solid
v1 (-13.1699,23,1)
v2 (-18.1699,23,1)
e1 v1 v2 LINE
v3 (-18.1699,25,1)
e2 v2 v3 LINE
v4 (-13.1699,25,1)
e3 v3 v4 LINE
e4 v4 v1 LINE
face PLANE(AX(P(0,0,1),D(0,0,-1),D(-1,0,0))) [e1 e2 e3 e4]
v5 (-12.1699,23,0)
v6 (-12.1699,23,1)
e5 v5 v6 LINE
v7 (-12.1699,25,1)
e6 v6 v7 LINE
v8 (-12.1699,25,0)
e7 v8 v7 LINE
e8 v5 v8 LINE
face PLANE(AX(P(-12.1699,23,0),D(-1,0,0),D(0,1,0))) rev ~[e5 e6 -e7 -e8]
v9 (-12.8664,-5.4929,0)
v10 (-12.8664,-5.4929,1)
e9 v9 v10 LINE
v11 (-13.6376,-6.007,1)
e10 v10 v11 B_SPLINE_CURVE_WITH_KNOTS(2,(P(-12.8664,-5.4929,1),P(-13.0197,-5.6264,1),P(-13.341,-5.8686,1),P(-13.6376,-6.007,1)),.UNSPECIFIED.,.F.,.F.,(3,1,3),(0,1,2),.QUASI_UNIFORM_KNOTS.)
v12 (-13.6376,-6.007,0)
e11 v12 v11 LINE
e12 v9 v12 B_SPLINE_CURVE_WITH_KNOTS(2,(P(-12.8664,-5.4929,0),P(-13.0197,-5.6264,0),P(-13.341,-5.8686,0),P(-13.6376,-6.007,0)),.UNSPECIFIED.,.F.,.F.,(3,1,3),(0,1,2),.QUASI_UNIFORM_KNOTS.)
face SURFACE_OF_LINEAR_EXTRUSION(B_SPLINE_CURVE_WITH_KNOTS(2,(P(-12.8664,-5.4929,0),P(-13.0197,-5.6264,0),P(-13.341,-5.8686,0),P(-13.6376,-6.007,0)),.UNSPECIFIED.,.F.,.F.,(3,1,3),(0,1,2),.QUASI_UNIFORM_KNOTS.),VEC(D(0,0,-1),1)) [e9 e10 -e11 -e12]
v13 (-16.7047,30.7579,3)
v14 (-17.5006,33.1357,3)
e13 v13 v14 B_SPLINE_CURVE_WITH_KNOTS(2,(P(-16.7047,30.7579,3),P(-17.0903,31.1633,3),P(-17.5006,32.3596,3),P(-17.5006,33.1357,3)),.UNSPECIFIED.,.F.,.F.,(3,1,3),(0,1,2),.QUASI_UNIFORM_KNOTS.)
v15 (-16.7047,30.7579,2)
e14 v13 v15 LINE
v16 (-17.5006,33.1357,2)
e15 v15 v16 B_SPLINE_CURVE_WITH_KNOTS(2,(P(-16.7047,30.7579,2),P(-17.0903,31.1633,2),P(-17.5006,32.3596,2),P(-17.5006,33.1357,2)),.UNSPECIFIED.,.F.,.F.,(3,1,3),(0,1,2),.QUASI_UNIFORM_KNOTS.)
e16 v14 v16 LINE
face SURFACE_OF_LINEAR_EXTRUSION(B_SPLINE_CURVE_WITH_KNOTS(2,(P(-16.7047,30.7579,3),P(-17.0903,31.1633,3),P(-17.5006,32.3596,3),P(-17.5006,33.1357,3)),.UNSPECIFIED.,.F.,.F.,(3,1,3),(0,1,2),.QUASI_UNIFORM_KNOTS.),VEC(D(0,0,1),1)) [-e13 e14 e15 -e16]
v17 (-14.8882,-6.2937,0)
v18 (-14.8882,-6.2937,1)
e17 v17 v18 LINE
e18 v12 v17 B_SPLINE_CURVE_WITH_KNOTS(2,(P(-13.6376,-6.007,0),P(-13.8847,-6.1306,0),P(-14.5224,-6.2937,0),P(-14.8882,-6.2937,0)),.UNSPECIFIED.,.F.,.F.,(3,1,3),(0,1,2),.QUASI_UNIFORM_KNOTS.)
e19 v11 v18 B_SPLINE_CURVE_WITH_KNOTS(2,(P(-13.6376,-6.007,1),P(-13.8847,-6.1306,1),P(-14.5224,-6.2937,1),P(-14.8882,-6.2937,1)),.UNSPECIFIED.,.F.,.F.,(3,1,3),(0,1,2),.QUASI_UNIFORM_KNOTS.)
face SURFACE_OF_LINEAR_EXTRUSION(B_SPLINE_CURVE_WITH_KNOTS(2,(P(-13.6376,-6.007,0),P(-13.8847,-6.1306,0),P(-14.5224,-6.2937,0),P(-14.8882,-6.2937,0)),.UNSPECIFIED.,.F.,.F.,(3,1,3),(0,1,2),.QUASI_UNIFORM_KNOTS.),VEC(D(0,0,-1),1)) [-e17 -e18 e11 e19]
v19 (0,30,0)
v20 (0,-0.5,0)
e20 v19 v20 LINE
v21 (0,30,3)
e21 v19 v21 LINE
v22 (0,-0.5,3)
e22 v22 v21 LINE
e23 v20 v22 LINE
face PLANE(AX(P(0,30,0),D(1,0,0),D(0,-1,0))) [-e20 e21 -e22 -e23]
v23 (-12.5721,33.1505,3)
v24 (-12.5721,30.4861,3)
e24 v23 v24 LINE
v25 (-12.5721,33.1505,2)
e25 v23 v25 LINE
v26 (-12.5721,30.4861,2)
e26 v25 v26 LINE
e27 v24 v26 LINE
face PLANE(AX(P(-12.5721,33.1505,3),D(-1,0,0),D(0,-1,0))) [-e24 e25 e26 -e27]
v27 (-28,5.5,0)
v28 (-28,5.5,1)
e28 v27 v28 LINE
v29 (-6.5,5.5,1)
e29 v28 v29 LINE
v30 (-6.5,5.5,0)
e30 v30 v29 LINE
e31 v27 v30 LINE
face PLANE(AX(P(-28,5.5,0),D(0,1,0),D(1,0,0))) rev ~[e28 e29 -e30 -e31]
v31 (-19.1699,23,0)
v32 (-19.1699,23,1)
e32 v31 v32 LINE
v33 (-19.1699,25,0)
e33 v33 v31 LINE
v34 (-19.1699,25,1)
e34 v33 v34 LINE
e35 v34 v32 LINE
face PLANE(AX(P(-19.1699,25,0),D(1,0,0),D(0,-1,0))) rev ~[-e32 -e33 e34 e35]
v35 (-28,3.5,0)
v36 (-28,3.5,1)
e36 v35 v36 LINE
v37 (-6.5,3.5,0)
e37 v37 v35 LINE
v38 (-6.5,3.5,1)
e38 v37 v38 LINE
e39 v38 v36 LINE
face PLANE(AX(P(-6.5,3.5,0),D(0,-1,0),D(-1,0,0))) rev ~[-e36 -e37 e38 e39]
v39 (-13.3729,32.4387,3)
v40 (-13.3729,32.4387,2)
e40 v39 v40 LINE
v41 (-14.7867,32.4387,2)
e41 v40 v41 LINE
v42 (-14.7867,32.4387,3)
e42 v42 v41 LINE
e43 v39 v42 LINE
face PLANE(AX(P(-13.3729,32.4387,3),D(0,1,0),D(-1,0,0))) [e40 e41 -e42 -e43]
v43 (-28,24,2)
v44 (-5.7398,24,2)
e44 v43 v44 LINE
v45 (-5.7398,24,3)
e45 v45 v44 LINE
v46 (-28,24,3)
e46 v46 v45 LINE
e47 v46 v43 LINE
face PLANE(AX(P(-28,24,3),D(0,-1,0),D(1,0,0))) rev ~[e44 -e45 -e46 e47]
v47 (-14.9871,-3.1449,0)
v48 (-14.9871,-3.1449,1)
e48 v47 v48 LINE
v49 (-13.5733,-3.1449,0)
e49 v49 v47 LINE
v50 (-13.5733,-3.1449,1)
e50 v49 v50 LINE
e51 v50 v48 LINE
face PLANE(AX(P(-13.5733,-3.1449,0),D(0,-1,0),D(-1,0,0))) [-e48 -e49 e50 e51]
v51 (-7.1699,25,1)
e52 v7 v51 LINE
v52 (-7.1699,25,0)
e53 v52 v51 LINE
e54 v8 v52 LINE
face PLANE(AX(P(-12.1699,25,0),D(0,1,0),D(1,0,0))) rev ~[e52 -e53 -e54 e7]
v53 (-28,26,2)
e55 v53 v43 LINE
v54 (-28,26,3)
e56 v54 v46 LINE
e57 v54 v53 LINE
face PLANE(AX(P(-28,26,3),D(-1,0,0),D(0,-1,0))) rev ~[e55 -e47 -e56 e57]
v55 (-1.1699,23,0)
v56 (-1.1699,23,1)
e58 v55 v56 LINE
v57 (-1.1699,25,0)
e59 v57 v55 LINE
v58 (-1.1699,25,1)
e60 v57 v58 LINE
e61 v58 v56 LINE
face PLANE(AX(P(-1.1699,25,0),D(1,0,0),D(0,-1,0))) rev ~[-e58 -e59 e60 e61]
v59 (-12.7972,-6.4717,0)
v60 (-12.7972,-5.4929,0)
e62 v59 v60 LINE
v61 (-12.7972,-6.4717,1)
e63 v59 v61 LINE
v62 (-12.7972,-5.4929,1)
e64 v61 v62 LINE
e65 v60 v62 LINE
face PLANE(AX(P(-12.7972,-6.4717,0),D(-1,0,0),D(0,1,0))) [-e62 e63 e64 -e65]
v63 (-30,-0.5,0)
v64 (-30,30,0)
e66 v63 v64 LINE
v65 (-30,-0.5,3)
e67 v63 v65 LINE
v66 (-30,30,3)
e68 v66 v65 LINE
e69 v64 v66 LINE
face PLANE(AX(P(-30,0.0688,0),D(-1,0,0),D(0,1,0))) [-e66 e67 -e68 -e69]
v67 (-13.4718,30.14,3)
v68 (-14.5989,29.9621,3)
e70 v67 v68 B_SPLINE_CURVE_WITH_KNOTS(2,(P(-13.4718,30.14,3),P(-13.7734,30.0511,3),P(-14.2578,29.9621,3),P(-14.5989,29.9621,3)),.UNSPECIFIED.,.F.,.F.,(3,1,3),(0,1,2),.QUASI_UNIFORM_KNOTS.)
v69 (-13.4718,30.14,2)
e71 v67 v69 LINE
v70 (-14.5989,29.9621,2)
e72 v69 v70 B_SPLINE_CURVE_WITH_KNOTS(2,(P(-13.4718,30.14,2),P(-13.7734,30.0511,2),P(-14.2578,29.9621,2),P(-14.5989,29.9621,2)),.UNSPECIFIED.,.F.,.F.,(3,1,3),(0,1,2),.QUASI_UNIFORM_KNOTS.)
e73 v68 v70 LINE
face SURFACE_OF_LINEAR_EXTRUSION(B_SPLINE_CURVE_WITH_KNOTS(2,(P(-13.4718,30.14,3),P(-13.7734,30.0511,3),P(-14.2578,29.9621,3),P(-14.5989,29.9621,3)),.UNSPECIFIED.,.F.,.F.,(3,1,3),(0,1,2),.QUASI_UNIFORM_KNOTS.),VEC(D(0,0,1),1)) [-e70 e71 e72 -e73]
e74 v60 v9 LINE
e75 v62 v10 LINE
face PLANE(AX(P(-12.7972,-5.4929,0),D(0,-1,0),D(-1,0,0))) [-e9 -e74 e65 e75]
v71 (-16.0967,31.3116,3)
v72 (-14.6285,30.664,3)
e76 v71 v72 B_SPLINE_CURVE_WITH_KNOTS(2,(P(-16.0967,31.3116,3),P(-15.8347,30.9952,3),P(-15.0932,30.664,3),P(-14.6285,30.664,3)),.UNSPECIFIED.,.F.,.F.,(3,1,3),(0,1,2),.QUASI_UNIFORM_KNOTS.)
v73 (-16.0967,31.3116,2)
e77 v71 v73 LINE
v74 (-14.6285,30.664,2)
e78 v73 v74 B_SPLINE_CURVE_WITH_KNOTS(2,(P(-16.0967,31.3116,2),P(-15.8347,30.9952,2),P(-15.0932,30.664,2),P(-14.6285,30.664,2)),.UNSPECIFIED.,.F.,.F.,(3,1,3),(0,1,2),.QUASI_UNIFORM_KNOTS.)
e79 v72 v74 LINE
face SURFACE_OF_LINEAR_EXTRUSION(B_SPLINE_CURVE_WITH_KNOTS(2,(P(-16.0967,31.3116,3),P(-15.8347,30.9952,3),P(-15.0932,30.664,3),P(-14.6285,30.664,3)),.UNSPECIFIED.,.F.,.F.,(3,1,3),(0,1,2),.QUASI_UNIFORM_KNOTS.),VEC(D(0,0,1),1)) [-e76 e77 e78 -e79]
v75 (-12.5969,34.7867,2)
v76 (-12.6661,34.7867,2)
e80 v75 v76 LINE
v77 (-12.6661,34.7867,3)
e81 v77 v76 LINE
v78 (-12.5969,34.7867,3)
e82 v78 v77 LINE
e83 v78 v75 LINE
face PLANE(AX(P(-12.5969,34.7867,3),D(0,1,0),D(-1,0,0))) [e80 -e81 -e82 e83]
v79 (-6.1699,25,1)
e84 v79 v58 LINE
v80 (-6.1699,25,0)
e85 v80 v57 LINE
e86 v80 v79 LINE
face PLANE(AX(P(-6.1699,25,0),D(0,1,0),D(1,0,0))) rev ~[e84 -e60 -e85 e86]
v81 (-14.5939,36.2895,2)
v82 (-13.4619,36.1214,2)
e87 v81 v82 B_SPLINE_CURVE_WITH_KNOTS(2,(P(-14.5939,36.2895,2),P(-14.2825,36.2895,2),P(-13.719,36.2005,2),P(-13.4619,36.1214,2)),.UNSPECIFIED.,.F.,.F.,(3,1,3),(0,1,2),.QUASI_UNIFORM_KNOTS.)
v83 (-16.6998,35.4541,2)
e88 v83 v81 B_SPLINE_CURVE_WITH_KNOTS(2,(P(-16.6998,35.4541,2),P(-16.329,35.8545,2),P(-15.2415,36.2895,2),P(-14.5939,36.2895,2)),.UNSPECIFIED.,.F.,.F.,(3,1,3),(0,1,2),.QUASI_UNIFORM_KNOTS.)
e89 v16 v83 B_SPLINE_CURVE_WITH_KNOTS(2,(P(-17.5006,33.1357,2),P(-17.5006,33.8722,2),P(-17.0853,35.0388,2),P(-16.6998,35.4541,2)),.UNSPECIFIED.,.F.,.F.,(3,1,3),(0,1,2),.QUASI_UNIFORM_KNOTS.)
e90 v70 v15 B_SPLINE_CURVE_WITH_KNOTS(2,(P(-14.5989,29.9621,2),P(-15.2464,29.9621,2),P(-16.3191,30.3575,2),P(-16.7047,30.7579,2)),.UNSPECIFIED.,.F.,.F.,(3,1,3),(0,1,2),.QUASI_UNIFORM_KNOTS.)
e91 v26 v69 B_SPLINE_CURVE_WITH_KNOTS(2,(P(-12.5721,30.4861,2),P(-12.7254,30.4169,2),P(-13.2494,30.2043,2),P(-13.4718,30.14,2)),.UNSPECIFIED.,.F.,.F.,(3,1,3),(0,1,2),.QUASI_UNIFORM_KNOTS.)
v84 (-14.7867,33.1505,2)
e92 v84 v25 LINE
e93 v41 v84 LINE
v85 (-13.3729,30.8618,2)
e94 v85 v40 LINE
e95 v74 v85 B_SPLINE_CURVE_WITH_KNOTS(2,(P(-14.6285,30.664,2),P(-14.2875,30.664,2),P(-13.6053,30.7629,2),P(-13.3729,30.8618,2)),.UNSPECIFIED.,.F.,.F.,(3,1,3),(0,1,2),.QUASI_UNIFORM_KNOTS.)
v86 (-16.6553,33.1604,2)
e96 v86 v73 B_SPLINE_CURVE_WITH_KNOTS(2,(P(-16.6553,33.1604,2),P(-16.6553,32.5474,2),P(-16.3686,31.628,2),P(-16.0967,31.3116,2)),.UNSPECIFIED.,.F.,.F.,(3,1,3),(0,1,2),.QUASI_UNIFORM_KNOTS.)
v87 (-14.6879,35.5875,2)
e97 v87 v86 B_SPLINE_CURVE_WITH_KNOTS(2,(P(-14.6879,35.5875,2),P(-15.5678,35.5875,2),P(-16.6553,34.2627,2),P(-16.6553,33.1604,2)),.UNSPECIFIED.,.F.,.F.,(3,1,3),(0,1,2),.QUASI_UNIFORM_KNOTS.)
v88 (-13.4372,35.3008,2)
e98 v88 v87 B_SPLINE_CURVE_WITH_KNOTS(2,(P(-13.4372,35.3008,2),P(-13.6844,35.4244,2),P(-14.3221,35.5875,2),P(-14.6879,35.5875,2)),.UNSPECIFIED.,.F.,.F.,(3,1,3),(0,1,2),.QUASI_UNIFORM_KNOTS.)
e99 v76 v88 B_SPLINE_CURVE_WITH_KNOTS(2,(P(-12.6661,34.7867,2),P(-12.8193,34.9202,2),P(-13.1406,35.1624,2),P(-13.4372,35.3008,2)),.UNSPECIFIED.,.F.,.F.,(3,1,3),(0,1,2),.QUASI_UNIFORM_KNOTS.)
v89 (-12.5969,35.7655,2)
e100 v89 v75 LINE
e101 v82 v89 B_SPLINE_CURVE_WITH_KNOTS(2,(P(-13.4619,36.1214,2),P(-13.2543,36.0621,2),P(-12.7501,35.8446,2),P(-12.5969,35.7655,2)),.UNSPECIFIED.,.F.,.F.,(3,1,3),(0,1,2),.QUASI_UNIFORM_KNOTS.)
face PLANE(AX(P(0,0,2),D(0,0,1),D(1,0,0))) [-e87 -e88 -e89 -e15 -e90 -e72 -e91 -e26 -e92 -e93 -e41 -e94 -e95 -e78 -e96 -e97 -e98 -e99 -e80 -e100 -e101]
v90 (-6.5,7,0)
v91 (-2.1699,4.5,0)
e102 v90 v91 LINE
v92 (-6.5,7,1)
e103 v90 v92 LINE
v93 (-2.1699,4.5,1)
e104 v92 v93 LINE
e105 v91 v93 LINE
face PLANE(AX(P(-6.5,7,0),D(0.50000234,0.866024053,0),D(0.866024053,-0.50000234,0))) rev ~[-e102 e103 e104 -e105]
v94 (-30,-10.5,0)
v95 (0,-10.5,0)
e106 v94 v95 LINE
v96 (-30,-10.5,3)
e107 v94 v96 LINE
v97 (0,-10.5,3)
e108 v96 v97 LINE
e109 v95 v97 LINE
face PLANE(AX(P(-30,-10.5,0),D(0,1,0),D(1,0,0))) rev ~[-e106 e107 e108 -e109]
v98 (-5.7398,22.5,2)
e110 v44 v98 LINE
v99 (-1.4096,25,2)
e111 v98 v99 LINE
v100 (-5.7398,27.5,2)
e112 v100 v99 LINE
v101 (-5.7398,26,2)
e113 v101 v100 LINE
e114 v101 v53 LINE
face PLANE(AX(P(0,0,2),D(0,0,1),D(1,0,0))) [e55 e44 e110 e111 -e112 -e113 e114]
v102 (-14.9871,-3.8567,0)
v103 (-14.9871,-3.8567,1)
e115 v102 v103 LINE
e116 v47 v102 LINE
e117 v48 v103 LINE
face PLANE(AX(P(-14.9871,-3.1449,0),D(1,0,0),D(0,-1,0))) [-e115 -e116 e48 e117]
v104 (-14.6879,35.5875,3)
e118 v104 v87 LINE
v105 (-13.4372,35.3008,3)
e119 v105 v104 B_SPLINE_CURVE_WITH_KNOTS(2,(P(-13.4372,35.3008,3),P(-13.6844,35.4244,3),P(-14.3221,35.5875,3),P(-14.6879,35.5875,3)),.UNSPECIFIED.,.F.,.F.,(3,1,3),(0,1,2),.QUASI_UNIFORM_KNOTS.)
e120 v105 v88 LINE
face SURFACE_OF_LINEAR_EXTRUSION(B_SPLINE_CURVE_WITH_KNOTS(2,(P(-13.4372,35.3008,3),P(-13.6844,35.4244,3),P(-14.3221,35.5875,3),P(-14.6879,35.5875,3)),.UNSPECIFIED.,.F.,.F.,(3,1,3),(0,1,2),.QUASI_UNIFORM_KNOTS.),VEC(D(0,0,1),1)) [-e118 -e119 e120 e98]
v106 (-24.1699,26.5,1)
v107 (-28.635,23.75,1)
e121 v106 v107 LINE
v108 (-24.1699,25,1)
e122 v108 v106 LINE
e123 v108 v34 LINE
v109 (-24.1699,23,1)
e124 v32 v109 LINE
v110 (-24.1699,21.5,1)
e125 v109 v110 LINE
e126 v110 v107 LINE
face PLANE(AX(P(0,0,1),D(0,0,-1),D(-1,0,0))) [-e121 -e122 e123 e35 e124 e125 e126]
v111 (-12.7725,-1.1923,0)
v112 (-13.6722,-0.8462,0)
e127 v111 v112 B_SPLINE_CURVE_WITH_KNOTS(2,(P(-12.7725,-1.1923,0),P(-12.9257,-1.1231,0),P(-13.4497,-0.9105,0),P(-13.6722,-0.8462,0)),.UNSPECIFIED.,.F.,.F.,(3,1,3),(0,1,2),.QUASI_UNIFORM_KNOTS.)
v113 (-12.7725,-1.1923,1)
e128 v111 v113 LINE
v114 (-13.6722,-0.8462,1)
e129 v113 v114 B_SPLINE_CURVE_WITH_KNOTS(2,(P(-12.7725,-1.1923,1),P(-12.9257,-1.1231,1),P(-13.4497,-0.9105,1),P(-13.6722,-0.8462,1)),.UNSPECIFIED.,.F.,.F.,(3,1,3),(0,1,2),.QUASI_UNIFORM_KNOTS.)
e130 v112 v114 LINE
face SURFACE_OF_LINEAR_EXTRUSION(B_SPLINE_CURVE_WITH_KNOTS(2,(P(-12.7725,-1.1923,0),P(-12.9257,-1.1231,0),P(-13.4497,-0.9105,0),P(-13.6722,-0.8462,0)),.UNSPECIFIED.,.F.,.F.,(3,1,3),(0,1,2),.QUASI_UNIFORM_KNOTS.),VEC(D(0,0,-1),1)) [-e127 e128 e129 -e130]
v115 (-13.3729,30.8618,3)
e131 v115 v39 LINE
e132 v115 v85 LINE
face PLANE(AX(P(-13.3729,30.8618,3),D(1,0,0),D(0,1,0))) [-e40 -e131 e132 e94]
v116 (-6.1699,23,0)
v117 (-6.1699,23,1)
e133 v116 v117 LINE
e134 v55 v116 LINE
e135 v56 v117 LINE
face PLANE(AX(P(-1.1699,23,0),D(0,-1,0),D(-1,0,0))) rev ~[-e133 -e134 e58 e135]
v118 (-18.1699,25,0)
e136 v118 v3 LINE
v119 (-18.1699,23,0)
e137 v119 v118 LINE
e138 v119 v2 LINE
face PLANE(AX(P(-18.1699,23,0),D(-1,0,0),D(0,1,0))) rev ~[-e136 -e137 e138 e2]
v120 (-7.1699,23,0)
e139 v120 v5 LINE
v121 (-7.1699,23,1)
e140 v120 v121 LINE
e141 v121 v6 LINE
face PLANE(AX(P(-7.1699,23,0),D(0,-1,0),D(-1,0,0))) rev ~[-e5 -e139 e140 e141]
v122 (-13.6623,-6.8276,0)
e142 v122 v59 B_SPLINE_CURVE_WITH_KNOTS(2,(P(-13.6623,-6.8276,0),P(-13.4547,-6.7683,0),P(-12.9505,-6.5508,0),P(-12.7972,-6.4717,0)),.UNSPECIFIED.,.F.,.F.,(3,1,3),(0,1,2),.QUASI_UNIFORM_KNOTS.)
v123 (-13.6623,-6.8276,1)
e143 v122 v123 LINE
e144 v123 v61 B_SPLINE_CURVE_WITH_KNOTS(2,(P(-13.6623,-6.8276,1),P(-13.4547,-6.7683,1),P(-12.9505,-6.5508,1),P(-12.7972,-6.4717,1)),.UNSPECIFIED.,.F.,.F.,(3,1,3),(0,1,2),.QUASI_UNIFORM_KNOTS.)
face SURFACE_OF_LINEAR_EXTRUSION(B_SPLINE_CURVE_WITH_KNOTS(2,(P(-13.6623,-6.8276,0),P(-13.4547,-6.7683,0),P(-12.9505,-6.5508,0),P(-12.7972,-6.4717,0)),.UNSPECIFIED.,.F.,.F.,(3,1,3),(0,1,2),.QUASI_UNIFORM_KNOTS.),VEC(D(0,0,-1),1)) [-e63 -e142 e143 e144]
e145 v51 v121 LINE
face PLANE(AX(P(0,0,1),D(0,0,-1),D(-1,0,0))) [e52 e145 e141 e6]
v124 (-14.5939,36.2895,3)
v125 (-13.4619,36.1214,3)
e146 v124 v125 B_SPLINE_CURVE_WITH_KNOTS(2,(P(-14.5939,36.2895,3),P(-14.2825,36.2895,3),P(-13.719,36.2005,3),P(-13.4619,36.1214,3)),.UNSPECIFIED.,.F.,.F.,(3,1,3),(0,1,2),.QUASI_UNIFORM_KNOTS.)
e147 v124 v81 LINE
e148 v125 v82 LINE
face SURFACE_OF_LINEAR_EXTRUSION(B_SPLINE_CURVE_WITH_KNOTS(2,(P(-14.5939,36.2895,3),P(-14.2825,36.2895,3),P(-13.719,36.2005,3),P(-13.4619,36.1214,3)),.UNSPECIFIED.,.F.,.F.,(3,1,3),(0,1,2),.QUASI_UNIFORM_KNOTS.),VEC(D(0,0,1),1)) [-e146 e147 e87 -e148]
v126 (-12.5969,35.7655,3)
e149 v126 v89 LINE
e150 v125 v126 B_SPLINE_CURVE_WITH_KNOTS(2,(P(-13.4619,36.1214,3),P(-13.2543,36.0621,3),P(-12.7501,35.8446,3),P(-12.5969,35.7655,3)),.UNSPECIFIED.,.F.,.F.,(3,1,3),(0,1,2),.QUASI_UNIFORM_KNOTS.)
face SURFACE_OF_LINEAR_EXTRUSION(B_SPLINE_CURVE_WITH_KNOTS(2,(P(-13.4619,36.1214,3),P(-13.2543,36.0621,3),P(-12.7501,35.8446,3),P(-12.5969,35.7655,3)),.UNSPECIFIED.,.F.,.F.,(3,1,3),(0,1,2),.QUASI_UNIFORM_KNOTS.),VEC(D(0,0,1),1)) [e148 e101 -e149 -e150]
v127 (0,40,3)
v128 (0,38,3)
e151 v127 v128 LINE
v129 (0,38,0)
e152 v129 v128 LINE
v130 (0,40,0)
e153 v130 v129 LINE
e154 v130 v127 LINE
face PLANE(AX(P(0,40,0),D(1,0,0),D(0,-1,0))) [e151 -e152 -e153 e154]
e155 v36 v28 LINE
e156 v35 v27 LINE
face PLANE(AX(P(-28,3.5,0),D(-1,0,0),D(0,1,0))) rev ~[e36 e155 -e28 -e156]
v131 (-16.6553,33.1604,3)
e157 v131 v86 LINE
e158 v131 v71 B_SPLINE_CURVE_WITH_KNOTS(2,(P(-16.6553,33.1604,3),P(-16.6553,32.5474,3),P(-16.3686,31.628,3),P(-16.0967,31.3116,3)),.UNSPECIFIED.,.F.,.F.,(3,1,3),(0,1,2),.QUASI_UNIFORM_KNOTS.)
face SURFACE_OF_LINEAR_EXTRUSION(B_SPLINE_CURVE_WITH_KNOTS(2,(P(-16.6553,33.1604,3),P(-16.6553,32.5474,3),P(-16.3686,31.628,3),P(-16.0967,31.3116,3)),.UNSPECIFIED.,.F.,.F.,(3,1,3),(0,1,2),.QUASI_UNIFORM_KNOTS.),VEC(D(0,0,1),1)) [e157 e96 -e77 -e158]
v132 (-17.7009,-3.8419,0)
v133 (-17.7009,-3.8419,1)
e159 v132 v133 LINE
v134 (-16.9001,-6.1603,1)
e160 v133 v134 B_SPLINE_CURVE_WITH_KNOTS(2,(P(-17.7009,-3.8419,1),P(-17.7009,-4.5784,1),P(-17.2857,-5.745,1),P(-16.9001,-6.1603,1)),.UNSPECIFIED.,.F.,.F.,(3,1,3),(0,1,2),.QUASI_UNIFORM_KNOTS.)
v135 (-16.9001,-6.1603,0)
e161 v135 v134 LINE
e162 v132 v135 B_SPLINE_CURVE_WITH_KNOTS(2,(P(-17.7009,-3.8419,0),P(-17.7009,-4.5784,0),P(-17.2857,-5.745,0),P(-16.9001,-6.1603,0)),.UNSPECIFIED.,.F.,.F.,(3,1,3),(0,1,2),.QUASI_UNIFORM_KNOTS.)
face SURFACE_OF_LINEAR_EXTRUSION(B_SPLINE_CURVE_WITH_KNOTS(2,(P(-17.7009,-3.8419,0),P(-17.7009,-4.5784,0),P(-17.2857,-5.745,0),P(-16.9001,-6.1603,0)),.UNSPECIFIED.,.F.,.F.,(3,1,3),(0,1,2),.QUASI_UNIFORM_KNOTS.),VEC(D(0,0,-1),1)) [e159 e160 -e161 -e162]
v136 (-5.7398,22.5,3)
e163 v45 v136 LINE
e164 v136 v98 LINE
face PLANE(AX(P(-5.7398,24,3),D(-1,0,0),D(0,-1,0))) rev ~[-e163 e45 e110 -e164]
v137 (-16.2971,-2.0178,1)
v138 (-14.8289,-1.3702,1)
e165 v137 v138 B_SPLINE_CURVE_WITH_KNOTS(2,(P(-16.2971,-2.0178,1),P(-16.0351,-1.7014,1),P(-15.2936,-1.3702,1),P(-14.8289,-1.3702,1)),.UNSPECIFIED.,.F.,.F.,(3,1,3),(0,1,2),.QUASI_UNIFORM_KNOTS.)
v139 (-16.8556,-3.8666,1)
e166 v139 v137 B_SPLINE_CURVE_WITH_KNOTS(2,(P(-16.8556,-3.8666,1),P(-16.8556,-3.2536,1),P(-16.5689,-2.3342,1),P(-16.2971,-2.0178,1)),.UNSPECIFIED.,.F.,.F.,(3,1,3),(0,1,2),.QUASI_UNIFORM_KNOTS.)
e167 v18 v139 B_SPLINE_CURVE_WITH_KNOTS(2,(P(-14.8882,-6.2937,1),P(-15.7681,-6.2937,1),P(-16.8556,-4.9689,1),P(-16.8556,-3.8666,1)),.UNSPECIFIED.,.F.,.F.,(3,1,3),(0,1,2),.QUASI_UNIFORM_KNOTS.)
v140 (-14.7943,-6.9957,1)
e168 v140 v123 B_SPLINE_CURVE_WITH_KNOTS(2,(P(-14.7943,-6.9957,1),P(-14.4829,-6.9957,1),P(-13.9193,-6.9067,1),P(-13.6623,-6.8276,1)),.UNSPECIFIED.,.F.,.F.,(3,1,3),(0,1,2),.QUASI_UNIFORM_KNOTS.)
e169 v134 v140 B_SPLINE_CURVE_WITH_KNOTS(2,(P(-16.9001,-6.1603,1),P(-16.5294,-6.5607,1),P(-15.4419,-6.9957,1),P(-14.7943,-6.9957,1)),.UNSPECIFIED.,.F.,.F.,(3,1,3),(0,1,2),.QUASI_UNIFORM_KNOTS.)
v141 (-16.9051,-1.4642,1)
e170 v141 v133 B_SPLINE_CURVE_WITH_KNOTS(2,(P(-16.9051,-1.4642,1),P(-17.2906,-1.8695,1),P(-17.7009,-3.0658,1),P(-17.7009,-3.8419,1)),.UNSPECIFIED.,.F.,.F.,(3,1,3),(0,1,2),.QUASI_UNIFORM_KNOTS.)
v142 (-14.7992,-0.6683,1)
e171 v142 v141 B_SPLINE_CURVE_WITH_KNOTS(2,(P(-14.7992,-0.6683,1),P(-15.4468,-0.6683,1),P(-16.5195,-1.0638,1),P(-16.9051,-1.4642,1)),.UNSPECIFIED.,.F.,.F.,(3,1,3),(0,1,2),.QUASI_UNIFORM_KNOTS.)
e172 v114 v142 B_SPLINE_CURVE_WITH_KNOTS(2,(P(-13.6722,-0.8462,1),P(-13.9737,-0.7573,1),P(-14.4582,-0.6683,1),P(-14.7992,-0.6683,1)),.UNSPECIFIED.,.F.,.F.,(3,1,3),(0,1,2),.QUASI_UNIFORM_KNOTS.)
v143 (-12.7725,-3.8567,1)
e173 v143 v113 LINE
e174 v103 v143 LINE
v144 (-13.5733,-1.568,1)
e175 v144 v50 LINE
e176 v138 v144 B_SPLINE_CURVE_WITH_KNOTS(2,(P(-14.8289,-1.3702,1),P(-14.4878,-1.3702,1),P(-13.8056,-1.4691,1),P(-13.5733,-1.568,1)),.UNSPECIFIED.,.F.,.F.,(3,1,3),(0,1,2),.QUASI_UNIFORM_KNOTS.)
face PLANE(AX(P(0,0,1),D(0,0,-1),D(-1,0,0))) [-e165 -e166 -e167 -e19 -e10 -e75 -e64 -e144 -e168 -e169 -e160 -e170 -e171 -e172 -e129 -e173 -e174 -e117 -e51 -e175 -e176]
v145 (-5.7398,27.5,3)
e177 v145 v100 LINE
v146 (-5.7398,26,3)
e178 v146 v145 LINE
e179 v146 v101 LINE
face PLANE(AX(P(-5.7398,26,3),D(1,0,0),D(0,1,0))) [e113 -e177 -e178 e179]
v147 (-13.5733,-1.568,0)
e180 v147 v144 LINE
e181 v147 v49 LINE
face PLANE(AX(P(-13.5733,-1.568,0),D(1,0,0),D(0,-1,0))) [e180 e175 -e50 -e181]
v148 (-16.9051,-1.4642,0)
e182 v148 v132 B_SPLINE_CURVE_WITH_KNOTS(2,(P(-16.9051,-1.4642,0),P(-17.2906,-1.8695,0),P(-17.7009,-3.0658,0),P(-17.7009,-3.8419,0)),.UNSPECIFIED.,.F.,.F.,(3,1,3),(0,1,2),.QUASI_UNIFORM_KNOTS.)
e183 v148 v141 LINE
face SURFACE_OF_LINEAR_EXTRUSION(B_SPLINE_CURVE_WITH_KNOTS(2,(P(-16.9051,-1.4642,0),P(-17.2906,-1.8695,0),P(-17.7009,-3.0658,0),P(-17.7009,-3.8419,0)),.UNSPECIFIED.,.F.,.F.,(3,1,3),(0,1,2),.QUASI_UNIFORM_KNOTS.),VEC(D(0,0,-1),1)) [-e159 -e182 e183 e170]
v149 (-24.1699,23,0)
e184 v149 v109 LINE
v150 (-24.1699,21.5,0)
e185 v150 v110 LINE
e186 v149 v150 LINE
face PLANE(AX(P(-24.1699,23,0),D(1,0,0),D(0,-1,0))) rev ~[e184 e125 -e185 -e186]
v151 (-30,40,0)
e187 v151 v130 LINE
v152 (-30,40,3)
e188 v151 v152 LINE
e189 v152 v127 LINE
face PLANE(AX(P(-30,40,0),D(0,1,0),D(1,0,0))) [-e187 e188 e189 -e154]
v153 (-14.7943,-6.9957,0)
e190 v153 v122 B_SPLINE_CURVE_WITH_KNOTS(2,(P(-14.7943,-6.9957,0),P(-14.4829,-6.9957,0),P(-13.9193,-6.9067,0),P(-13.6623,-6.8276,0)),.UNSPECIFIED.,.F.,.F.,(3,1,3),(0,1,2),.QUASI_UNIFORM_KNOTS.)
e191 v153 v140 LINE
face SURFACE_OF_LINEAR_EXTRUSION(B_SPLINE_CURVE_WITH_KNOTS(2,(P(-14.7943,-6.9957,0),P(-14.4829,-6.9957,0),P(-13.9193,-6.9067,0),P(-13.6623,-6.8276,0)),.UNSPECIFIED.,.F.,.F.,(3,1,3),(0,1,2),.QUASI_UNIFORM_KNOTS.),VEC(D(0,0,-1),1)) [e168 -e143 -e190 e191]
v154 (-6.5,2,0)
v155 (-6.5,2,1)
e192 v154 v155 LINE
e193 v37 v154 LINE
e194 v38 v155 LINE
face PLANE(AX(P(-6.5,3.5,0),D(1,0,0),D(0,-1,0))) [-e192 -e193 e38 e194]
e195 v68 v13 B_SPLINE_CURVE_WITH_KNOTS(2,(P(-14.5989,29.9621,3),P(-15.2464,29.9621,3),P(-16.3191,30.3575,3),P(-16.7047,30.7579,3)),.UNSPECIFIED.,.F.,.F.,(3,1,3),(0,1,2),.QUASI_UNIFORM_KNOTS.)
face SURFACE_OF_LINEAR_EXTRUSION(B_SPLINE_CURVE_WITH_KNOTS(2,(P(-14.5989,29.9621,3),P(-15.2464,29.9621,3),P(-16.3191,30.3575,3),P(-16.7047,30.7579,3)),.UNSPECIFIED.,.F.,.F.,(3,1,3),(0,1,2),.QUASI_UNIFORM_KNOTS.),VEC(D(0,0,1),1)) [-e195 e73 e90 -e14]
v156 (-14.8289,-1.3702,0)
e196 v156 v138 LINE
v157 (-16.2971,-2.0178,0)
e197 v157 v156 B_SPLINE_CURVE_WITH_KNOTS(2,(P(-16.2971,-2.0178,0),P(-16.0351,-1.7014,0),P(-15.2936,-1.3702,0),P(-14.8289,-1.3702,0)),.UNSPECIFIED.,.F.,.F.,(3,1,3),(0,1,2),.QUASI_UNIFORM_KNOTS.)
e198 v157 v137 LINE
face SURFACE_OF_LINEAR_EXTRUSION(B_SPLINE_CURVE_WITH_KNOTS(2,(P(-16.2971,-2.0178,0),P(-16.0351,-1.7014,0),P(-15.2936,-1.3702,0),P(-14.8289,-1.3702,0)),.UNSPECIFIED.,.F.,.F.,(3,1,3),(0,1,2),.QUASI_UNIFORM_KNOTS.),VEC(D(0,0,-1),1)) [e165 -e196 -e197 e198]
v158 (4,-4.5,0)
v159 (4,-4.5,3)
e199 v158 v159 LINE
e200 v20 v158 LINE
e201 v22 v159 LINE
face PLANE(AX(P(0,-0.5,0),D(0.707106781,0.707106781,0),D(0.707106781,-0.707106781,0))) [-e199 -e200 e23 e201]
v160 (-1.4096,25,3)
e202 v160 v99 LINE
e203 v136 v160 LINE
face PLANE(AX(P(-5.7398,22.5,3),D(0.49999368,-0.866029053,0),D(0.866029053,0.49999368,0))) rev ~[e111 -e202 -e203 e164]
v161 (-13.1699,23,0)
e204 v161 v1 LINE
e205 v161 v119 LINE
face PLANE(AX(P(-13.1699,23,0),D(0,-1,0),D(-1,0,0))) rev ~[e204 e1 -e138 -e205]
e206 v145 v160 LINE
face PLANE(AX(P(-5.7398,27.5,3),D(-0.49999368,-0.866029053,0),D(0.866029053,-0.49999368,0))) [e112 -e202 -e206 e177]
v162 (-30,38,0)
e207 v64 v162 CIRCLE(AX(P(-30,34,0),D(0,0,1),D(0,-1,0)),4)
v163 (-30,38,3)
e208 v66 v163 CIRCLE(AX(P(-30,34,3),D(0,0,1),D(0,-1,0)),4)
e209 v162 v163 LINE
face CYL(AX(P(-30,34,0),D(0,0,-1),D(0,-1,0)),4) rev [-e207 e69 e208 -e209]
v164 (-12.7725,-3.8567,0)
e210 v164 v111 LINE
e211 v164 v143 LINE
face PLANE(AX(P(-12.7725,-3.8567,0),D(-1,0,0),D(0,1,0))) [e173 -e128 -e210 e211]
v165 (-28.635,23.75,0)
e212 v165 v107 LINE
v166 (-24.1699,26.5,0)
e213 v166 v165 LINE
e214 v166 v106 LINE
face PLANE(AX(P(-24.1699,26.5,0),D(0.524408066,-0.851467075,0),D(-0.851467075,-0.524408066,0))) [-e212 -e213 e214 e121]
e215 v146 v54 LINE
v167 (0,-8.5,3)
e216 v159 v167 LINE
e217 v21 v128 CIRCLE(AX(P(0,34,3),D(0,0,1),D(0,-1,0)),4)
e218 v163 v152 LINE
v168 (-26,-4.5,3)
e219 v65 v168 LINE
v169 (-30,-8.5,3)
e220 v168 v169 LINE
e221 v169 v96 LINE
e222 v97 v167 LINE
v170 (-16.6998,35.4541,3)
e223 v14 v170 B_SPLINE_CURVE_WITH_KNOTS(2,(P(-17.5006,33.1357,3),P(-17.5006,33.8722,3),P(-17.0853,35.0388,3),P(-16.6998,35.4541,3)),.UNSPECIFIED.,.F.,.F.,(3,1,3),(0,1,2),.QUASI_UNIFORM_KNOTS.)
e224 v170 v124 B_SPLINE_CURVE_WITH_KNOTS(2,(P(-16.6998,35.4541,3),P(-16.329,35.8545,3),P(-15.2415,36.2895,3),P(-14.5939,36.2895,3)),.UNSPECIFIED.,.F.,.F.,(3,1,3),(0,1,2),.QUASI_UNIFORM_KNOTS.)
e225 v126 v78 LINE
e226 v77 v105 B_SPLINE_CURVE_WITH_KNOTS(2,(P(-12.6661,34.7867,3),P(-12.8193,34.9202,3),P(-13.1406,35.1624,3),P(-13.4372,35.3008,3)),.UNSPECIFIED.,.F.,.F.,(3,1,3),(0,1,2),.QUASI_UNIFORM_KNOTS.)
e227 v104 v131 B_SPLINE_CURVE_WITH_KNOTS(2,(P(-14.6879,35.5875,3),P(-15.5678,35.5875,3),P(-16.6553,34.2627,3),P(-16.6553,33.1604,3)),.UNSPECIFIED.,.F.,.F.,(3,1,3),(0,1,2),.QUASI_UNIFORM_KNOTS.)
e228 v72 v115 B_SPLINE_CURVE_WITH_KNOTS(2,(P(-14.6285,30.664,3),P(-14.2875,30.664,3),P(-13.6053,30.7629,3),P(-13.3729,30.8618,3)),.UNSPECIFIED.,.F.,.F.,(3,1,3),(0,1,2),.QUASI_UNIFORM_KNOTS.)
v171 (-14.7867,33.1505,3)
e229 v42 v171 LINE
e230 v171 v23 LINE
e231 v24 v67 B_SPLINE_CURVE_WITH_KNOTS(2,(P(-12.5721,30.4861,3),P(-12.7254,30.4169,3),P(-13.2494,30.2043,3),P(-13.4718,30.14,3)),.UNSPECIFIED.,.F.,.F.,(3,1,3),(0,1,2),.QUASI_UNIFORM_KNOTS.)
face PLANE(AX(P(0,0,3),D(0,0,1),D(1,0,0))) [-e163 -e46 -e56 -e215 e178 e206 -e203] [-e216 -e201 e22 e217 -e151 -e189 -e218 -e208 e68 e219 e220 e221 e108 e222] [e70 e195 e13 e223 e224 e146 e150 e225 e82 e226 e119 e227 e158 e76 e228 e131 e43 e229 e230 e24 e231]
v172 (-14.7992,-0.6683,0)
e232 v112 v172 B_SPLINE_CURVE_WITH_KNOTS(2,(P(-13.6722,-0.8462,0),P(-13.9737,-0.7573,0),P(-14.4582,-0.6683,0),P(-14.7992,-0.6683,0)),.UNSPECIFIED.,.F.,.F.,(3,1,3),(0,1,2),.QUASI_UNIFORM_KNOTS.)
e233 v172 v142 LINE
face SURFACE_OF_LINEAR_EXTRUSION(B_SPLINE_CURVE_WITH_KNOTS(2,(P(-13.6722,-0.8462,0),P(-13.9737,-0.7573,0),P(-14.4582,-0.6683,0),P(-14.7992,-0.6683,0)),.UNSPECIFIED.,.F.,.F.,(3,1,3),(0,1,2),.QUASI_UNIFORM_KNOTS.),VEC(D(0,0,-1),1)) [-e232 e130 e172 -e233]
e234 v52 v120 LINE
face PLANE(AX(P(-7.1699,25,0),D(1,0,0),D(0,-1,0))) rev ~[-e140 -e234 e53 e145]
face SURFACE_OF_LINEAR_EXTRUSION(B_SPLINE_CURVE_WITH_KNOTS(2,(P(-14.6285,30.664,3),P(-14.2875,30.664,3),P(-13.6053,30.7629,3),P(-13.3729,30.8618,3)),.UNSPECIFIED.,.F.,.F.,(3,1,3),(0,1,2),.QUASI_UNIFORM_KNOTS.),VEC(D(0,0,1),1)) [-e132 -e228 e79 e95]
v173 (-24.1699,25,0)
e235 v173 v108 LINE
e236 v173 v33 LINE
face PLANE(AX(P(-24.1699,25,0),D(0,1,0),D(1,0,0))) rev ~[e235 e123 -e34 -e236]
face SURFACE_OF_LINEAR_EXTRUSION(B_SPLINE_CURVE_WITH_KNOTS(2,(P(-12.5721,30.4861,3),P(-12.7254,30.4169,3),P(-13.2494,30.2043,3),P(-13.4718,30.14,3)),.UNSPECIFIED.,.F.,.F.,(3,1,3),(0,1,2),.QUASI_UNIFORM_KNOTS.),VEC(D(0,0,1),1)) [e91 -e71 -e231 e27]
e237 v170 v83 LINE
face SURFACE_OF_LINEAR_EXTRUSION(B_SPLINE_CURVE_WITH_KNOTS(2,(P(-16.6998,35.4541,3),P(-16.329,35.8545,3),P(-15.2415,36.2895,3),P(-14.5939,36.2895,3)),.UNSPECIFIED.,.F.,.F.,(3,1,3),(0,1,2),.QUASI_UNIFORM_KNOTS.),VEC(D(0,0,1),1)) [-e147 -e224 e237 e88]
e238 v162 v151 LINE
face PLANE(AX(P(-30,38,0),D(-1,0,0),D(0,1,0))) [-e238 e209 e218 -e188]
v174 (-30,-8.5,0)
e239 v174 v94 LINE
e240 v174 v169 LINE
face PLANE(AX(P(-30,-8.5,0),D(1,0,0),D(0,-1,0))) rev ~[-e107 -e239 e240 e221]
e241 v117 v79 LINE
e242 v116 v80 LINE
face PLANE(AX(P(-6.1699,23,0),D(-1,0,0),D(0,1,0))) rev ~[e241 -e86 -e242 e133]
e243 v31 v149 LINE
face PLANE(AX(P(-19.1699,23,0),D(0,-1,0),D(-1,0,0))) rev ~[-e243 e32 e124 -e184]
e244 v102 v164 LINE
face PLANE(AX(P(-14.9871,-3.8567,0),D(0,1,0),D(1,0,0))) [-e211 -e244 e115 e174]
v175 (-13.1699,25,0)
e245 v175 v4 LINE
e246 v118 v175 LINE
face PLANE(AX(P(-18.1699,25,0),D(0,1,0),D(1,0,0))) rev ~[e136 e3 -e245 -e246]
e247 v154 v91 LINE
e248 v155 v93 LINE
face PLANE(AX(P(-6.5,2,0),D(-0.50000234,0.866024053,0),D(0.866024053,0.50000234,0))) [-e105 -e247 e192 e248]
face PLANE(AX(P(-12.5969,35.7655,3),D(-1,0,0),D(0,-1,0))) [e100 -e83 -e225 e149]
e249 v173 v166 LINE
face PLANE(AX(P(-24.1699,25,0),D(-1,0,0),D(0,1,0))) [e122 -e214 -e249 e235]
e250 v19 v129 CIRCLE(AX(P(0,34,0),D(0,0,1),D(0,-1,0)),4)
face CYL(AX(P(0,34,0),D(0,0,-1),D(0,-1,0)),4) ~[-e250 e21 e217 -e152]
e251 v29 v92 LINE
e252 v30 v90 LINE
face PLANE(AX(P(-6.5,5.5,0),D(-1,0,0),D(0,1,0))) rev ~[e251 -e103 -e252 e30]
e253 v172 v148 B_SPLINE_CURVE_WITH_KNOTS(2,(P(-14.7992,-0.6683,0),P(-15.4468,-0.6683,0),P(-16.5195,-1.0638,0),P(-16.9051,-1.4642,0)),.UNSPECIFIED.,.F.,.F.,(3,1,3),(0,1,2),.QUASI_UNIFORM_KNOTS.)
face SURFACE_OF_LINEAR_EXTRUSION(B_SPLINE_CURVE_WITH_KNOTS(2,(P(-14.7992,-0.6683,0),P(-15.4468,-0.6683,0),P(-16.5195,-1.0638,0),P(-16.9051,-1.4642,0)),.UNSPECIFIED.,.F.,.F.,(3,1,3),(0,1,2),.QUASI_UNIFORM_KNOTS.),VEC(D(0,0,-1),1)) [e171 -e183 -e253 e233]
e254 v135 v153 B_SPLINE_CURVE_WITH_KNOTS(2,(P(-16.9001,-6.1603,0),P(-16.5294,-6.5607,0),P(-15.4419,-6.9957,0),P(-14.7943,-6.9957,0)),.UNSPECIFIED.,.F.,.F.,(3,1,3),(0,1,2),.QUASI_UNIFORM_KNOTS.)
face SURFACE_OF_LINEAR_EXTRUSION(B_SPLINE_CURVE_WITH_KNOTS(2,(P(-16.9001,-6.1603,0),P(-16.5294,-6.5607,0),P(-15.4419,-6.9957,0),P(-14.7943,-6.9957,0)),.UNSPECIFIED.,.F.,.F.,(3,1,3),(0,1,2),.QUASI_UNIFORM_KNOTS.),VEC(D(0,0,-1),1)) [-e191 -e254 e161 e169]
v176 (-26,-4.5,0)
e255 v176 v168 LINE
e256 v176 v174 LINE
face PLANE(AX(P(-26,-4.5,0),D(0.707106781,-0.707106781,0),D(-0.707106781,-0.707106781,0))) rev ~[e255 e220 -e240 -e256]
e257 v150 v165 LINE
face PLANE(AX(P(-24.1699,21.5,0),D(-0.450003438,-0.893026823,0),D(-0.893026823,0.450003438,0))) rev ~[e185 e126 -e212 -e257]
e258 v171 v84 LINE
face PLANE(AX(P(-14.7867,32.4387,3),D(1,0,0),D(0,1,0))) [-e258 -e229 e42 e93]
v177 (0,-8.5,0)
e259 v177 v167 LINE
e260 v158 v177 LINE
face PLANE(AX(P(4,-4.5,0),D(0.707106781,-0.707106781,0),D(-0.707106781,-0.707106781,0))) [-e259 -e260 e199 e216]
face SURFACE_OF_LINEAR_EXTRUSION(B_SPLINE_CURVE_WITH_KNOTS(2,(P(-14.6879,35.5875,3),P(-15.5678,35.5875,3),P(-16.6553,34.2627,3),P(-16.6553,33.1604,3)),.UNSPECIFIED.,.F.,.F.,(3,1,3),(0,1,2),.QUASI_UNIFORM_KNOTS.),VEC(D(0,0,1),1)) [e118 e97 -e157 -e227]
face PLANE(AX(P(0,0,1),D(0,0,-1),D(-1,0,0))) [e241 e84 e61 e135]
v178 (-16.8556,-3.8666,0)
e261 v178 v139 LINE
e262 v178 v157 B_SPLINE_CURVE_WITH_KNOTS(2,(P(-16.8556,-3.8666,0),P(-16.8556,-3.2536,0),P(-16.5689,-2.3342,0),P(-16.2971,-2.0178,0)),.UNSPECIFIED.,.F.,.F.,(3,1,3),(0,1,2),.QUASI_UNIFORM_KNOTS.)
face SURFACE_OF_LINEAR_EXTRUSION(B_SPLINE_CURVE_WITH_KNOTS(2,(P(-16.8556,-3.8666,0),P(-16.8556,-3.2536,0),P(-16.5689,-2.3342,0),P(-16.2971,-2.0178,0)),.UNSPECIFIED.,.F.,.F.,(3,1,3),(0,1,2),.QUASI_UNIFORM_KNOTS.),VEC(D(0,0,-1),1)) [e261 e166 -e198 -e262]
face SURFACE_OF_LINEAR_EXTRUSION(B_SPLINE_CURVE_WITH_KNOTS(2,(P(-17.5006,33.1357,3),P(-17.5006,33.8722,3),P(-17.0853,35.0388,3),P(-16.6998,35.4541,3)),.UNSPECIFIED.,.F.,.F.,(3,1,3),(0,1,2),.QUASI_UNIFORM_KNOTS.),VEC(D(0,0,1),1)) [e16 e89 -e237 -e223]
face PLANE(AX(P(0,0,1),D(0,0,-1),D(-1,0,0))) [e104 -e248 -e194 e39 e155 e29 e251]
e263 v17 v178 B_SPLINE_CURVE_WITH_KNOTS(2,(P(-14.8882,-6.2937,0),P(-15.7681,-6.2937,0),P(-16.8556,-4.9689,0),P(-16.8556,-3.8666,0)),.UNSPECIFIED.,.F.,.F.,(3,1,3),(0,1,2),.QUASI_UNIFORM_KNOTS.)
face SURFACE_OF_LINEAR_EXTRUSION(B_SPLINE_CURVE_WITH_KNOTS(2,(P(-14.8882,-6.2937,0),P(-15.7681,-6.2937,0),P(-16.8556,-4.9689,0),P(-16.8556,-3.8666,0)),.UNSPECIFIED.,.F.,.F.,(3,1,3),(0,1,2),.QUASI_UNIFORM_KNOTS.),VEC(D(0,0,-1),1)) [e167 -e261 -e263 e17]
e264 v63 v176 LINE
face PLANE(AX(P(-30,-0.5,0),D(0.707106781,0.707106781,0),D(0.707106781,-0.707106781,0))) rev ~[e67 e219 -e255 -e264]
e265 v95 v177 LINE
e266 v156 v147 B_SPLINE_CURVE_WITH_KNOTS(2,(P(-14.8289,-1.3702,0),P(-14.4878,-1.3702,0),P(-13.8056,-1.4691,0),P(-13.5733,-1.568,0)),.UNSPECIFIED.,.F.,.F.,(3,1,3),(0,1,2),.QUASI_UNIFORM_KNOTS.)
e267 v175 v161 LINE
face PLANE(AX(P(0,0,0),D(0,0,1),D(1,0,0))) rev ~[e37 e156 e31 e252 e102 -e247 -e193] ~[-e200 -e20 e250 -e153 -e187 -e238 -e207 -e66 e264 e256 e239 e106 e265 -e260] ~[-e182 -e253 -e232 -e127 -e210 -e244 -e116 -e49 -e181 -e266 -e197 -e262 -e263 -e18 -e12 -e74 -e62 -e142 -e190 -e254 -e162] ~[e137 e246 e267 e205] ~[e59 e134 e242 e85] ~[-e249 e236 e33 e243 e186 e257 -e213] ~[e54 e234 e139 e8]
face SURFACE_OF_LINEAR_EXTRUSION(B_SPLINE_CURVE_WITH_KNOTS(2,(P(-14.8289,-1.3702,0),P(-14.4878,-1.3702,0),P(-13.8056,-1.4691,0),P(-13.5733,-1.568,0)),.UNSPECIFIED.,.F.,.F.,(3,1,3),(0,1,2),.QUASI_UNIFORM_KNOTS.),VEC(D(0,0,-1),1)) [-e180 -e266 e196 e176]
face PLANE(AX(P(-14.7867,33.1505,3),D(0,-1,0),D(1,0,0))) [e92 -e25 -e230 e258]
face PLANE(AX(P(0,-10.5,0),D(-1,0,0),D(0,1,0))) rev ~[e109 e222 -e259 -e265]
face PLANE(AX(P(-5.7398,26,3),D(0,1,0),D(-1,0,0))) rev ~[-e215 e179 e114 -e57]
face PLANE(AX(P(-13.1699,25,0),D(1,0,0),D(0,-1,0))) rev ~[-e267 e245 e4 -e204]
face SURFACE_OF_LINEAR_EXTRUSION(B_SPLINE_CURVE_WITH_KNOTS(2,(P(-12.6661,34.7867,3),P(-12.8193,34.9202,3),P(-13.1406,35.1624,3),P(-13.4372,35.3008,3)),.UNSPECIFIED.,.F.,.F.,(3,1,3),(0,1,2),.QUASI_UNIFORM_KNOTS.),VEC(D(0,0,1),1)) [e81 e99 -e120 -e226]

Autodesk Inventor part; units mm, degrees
ref_plane "YZ Plane" through (0, 0, 0) normal (1, 0, 0) x (0, 1, 0)
ref_plane "XZ Plane" through (0, 0, 0) normal (0, 1, 0) x (-1, 0, 0)
ref_plane "XY Plane" through (0, 0, 0) normal (0, 0, 1) x (1, 0, 0)
sketch "Sketch1" plane through (0, 0, 0) normal (0, 0, 1) x (1, 0, 0)
  line L0 (-30, 40) -> (0, 40)
  line L1 (-36.1318, 34) -> (13.8682, 34) construction
  arc A0 (0, 30) -> (0, 38) centre (0, 34) ccw
  arc A1 (-30, 30) -> (-30, 38) centre (-30, 34) ccw
  line L2 (-30, 30) -> (0, 30) construction
  line L3 (-30, 0) -> (-30, -4.5) construction
  line L4 (-30, -4.5) -> (0, -4.5) construction
  line L5 (0, -4.5) -> (0, 0) construction
  circle A2 centre (-30, -4.5) radius 4 construction
  circle A3 centre (0, -4.5) radius 4 construction
  line L6 (-30, 0) -> (-30, 30)
  line L7 (-30, 38) -> (-30, 40)
  line L8 (0, 40) -> (0, 38)
  line L9 (0, 30) -> (0, 0)
  line L10 (-30, 0.0688) -> (-30, -0.5)
  line L11 (-30, -0.5) -> (-26, -4.5)
  line L12 (0, 0) -> (0, -0.5)
  line L13 (0, -0.5) -> (4, -4.5)
  line L14 (4, -4.5) -> (0, -8.5)
  line L15 (-26, -4.5) -> (-30, -8.5)
  line L16 (-30, -8.5) -> (-30, -10.5)
  line L17 (-30, -10.5) -> (0, -10.5)
  line L18 (0, -10.5) -> (0, -8.5)
  line L19 (0, 0) -> (-0.5, 0)
  dimension "d0" = 30
  dimension "d1" = 40
  dimension "d2" = 50
  dimension "d3" = 6
  dimension "d4" = 8
  dimension "d5" = 8
  dimension "d6" = 4.5
  dimension "d7" = 8
  dimension "d8" = 8
  dimension "d9" = 2
extrude "Extrusion1" add sketch "Sketch1" along normal blind 3
sketch "Sketch2" plane through (0, 0, 3) normal (0, 0, 1) x (1, 0, 0)
  line L0 (-30, -10.5) -> (0, -10.5) construction
  line L1 (0, -0.5) -> (0, 30) construction
  line L2 (0, 40) -> (-30, 40) construction
  line L3 (-15, 40) -> (-15, -10.5) construction
  line L4 (-15, 40) -> (-15, 36.5) construction
  line L5 (-15, 36.5) -> (-8.9843, 36.5) construction
  line L6 (-17.7725, 36.2895) -> (-9.6231, 36.2895) construction
  line L7 (-9.6231, 36.2895) -> (-9.6231, 27.3992) construction
  line L8 (-9.6231, 27.3992) -> (-17.7725, 27.3992) construction
  line L9 (-17.7725, 27.3992) -> (-17.7725, 36.2895) construction
  line L10 (-15, -10.5) -> (-15, 26) construction
  line L11 (-15, 26) -> (0, 26) construction
  line L12 (-5.7398, 26) -> (-28, 26)
  line L13 (-28, 26) -> (-28, 24)
  line L14 (-28, 24) -> (-5.7398, 24)
  line L15 (-5.7398, 24) -> (-5.7398, 26)
  line L16 (-28, 25) -> (0, 25) construction
  line L17 (-5.7398, 26) -> (-5.7398, 27.5)
  line L18 (-5.7398, 27.5) -> (-1.4096, 25)
  line L19 (-5.7398, 24) -> (-5.7398, 22.5)
  line L20 (-5.7398, 22.5) -> (-1.4096, 25)
  spline S0 degree 2 poles (-14.5989, 29.9621) (-15.2464, 29.9621) (-16.3191, 30.3575) (-16.7047, 30.7579) knots 0 0 0 1 2 2 2
  spline S1 degree 2 poles (-16.7047, 30.7579) (-17.0903, 31.1633) (-17.5006, 32.3596) (-17.5006, 33.1357) knots 0 0 0 1 2 2 2
  spline S2 degree 2 poles (-17.5006, 33.1357) (-17.5006, 33.8722) (-17.0853, 35.0388) (-16.6998, 35.4541) knots 0 0 0 1 2 2 2
  spline S3 degree 2 poles (-16.6998, 35.4541) (-16.329, 35.8545) (-15.2415, 36.2895) (-14.5939, 36.2895) knots 0 0 0 1 2 2 2
  spline S4 degree 2 poles (-14.5939, 36.2895) (-14.2825, 36.2895) (-13.719, 36.2005) (-13.4619, 36.1214) knots 0 0 0 1 2 2 2
  spline S5 degree 2 poles (-13.4619, 36.1214) (-13.2543, 36.0621) (-12.7501, 35.8446) (-12.5969, 35.7655) knots 0 0 0 1 2 2 2
  line L21 (-12.5969, 35.7655) -> (-12.5969, 34.7867)
  line L22 (-12.5969, 34.7867) -> (-12.6661, 34.7867)
  spline S6 degree 2 poles (-12.6661, 34.7867) (-12.8193, 34.9202) (-13.1406, 35.1624) (-13.4372, 35.3008) knots 0 0 0 1 2 2 2
  spline S7 degree 2 poles (-13.4372, 35.3008) (-13.6844, 35.4244) (-14.3221, 35.5875) (-14.6879, 35.5875) knots 0 0 0 1 2 2 2
  spline S8 degree 2 poles (-14.6879, 35.5875) (-15.5678, 35.5875) (-16.6553, 34.2627) (-16.6553, 33.1604) knots 0 0 0 1 2 2 2
  spline S9 degree 2 poles (-16.6553, 33.1604) (-16.6553, 32.5474) (-16.3686, 31.628) (-16.0967, 31.3116) knots 0 0 0 1 2 2 2
  spline S10 degree 2 poles (-16.0967, 31.3116) (-15.8347, 30.9952) (-15.0932, 30.664) (-14.6285, 30.664) knots 0 0 0 1 2 2 2
  spline S11 degree 2 poles (-14.6285, 30.664) (-14.2875, 30.664) (-13.6053, 30.7629) (-13.3729, 30.8618) knots 0 0 0 1 2 2 2
  line L23 (-13.3729, 30.8618) -> (-13.3729, 32.4387)
  line L24 (-13.3729, 32.4387) -> (-14.7867, 32.4387)
  line L25 (-14.7867, 32.4387) -> (-14.7867, 33.1505)
  line L26 (-14.7867, 33.1505) -> (-12.5721, 33.1505)
  line L27 (-12.5721, 33.1505) -> (-12.5721, 30.4861)
  spline S12 degree 2 poles (-12.5721, 30.4861) (-12.7254, 30.4169) (-13.2494, 30.2043) (-13.4718, 30.14) knots 0 0 0 1 2 2 2
  spline S13 degree 2 poles (-13.4718, 30.14) (-13.7734, 30.0511) (-14.2578, 29.9621) (-14.5989, 29.9621) knots 0 0 0 1 2 2 2
  point P0 (0, 0)
  dimension "d12" = 3.5
  dimension "d13" = 36.5
  dimension "d14" = 2
  dimension "d15" = 1.5
  dimension "d16" = 5
  dimension "d17" = 1.5
  dimension "d58" = 14
extrude "Extrusion2" cut sketch "Sketch2" against normal blind 1
sketch "Sketch5" plane through (0, 0, 0) normal (0, 0, -1) x (-1, 0, 0)
  line L0 (30, 30) -> (30, -0.5) construction
  arc A0 (30, 38) -> (30, 30) centre (30, 34) ccw construction
  line L1 (30, 40) -> (30, 38) construction
  line L2 (0, 40) -> (30, 40) construction
  line L3 (0, 38) -> (0, 40) construction
  arc A1 (0, 38) -> (0, 30) centre (0, 34) ccw construction
  line L4 (0, -0.5) -> (0, 30) construction
  line L5 (-4, -4.5) -> (0, -0.5) construction
  line L6 (0, -8.5) -> (-4, -4.5) construction
  line L7 (0, -10.5) -> (0, -8.5) construction
  line L8 (30, -10.5) -> (0, -10.5) construction
  line L9 (30, -8.5) -> (30, -10.5) construction
  line L10 (26, -4.5) -> (30, -8.5) construction
  line L11 (30, -0.5) -> (26, -4.5) construction
  point P0 (0, 0)
sketch "Sketch6" plane through (0, 0, 0) normal (0, 0, -1) x (-1, 0, 0)
  line L0 (30, 30) -> (30, -0.5) construction
  line L1 (0, 40) -> (30, 40) construction
  line L2 (30, -10.5) -> (0, -10.5) construction
  line L3 (17.9728, -6.9957) -> (10.1851, -6.9957) construction
  line L4 (10.1851, -6.9957) -> (10.1851, 2.1518) construction
  line L5 (10.1851, 2.1518) -> (17.9728, 2.1518) construction
  line L6 (17.9728, 2.1518) -> (17.9728, -6.9957) construction
  line L7 (15, -10.5) -> (15, 40) construction
  line L8 (15, -10.5) -> (15, -7) construction
  line L9 (15, -7) -> (11.2598, -7) construction
  line L10 (16.564, 40) -> (16.564, 4) construction
  line L11 (16.564, 4) -> (24.4907, 4) construction
  line L12 (30, 5.5) -> (28, 5.5) construction
  line L13 (28, 5.5) -> (6.5, 5.5)
  line L14 (6.5, 5.5) -> (6.5, 3.5)
  line L15 (6.5, 3.5) -> (28, 3.5)
  line L16 (28, 3.5) -> (28, 5.5)
  line L17 (6.5, 3.5) -> (6.5, 2)
  line L18 (6.5, 2) -> (2.1699, 4.5)
  line L19 (6.5, 5.5) -> (6.5, 7)
  line L20 (6.5, 7) -> (2.1699, 4.5)
  line L21 (5.7398, 24) -> (28, 24) construction
  line L22 (28, 26) -> (5.7398, 26) construction
  line L23 (1.1699, 23) -> (6.1699, 23)
  line L24 (6.1699, 23) -> (6.1699, 25)
  line L25 (6.1699, 25) -> (1.1699, 25)
  line L26 (1.1699, 25) -> (1.1699, 23)
  line L27 (7.1699, 23) -> (12.1699, 23)
  line L28 (12.1699, 25) -> (7.1699, 25)
  line L29 (12.1699, 23) -> (12.1699, 25)
  line L30 (7.1699, 25) -> (7.1699, 23)
  line L31 (13.1699, 23) -> (18.1699, 23)
  line L32 (18.1699, 25) -> (13.1699, 25)
  line L33 (18.1699, 23) -> (18.1699, 25)
  line L34 (13.1699, 25) -> (13.1699, 23)
  line L35 (19.1699, 23) -> (24.1699, 23)
  line L36 (24.1699, 25) -> (19.1699, 25)
  line L37 (24.1699, 23) -> (24.1699, 25)
  line L38 (19.1699, 25) -> (19.1699, 23)
  line L39 (24.1699, 23) -> (24.1699, 21.5)
  line L40 (24.1699, 21.5) -> (28.635, 23.75)
  line L41 (24.1699, 25) -> (24.1699, 26.5)
  line L42 (24.1699, 26.5) -> (28.635, 23.75)
  line L43 (0, -0.5) -> (0, 30) construction
  line L44 (28, 4.5) -> (0, 4.5) construction
  spline S0 degree 2 poles (14.7992, -0.6683) (15.4468, -0.6683) (16.5195, -1.0638) (16.9051, -1.4642) knots 0 0 0 1 2 2 2
  spline S1 degree 2 poles (16.9051, -1.4642) (17.2906, -1.8695) (17.7009, -3.0658) (17.7009, -3.8419) knots 0 0 0 1 2 2 2
  spline S2 degree 2 poles (17.7009, -3.8419) (17.7009, -4.5784) (17.2857, -5.745) (16.9001, -6.1603) knots 0 0 0 1 2 2 2
  spline S3 degree 2 poles (16.9001, -6.1603) (16.5294, -6.5607) (15.4419, -6.9957) (14.7943, -6.9957) knots 0 0 0 1 2 2 2
  spline S4 degree 2 poles (14.7943, -6.9957) (14.4829, -6.9957) (13.9193, -6.9067) (13.6623, -6.8276) knots 0 0 0 1 2 2 2
  spline S5 degree 2 poles (13.6623, -6.8276) (13.4547, -6.7683) (12.9505, -6.5508) (12.7972, -6.4717) knots 0 0 0 1 2 2 2
  line L45 (12.7972, -6.4717) -> (12.7972, -5.4929)
  line L46 (12.7972, -5.4929) -> (12.8664, -5.4929)
  spline S6 degree 2 poles (12.8664, -5.4929) (13.0197, -5.6264) (13.341, -5.8686) (13.6376, -6.007) knots 0 0 0 1 2 2 2
  spline S7 degree 2 poles (13.6376, -6.007) (13.8847, -6.1306) (14.5224, -6.2937) (14.8882, -6.2937) knots 0 0 0 1 2 2 2
  spline S8 degree 2 poles (14.8882, -6.2937) (15.7681, -6.2937) (16.8556, -4.9689) (16.8556, -3.8666) knots 0 0 0 1 2 2 2
  spline S9 degree 2 poles (16.8556, -3.8666) (16.8556, -3.2536) (16.5689, -2.3342) (16.2971, -2.0178) knots 0 0 0 1 2 2 2
  spline S10 degree 2 poles (16.2971, -2.0178) (16.0351, -1.7014) (15.2936, -1.3702) (14.8289, -1.3702) knots 0 0 0 1 2 2 2
  spline S11 degree 2 poles (14.8289, -1.3702) (14.4878, -1.3702) (13.8056, -1.4691) (13.5733, -1.568) knots 0 0 0 1 2 2 2
  line L47 (13.5733, -1.568) -> (13.5733, -3.1449)
  line L48 (13.5733, -3.1449) -> (14.9871, -3.1449)
  line L49 (14.9871, -3.1449) -> (14.9871, -3.8567)
  line L50 (14.9871, -3.8567) -> (12.7725, -3.8567)
  line L51 (12.7725, -3.8567) -> (12.7725, -1.1923)
  spline S12 degree 2 poles (12.7725, -1.1923) (12.9257, -1.1231) (13.4497, -0.9105) (13.6722, -0.8462) knots 0 0 0 1 2 2 2
  spline S13 degree 2 poles (13.6722, -0.8462) (13.9737, -0.7573) (14.4582, -0.6683) (14.7992, -0.6683) knots 0 0 0 1 2 2 2
  point P0 (0, 0)
  dimension "d36" = 3.5
  dimension "d37" = 36
  dimension "d38" = 2
  dimension "d39" = 1.5
  dimension "d40" = 5
  dimension "d41" = 1.5
  dimension "d42" = 5
  dimension "d43" = 2
  dimension "d46" = 6
  dimension "d51" = 1.5
  dimension "d52" = 5
  dimension "d53" = 1.5
  dimension "d56" = 18.5
  dimension "d57" = 14
extrude "Extrusion4" cut sketch "Sketch6" against normal blind 1
properties part number "MS_G[202] text"
